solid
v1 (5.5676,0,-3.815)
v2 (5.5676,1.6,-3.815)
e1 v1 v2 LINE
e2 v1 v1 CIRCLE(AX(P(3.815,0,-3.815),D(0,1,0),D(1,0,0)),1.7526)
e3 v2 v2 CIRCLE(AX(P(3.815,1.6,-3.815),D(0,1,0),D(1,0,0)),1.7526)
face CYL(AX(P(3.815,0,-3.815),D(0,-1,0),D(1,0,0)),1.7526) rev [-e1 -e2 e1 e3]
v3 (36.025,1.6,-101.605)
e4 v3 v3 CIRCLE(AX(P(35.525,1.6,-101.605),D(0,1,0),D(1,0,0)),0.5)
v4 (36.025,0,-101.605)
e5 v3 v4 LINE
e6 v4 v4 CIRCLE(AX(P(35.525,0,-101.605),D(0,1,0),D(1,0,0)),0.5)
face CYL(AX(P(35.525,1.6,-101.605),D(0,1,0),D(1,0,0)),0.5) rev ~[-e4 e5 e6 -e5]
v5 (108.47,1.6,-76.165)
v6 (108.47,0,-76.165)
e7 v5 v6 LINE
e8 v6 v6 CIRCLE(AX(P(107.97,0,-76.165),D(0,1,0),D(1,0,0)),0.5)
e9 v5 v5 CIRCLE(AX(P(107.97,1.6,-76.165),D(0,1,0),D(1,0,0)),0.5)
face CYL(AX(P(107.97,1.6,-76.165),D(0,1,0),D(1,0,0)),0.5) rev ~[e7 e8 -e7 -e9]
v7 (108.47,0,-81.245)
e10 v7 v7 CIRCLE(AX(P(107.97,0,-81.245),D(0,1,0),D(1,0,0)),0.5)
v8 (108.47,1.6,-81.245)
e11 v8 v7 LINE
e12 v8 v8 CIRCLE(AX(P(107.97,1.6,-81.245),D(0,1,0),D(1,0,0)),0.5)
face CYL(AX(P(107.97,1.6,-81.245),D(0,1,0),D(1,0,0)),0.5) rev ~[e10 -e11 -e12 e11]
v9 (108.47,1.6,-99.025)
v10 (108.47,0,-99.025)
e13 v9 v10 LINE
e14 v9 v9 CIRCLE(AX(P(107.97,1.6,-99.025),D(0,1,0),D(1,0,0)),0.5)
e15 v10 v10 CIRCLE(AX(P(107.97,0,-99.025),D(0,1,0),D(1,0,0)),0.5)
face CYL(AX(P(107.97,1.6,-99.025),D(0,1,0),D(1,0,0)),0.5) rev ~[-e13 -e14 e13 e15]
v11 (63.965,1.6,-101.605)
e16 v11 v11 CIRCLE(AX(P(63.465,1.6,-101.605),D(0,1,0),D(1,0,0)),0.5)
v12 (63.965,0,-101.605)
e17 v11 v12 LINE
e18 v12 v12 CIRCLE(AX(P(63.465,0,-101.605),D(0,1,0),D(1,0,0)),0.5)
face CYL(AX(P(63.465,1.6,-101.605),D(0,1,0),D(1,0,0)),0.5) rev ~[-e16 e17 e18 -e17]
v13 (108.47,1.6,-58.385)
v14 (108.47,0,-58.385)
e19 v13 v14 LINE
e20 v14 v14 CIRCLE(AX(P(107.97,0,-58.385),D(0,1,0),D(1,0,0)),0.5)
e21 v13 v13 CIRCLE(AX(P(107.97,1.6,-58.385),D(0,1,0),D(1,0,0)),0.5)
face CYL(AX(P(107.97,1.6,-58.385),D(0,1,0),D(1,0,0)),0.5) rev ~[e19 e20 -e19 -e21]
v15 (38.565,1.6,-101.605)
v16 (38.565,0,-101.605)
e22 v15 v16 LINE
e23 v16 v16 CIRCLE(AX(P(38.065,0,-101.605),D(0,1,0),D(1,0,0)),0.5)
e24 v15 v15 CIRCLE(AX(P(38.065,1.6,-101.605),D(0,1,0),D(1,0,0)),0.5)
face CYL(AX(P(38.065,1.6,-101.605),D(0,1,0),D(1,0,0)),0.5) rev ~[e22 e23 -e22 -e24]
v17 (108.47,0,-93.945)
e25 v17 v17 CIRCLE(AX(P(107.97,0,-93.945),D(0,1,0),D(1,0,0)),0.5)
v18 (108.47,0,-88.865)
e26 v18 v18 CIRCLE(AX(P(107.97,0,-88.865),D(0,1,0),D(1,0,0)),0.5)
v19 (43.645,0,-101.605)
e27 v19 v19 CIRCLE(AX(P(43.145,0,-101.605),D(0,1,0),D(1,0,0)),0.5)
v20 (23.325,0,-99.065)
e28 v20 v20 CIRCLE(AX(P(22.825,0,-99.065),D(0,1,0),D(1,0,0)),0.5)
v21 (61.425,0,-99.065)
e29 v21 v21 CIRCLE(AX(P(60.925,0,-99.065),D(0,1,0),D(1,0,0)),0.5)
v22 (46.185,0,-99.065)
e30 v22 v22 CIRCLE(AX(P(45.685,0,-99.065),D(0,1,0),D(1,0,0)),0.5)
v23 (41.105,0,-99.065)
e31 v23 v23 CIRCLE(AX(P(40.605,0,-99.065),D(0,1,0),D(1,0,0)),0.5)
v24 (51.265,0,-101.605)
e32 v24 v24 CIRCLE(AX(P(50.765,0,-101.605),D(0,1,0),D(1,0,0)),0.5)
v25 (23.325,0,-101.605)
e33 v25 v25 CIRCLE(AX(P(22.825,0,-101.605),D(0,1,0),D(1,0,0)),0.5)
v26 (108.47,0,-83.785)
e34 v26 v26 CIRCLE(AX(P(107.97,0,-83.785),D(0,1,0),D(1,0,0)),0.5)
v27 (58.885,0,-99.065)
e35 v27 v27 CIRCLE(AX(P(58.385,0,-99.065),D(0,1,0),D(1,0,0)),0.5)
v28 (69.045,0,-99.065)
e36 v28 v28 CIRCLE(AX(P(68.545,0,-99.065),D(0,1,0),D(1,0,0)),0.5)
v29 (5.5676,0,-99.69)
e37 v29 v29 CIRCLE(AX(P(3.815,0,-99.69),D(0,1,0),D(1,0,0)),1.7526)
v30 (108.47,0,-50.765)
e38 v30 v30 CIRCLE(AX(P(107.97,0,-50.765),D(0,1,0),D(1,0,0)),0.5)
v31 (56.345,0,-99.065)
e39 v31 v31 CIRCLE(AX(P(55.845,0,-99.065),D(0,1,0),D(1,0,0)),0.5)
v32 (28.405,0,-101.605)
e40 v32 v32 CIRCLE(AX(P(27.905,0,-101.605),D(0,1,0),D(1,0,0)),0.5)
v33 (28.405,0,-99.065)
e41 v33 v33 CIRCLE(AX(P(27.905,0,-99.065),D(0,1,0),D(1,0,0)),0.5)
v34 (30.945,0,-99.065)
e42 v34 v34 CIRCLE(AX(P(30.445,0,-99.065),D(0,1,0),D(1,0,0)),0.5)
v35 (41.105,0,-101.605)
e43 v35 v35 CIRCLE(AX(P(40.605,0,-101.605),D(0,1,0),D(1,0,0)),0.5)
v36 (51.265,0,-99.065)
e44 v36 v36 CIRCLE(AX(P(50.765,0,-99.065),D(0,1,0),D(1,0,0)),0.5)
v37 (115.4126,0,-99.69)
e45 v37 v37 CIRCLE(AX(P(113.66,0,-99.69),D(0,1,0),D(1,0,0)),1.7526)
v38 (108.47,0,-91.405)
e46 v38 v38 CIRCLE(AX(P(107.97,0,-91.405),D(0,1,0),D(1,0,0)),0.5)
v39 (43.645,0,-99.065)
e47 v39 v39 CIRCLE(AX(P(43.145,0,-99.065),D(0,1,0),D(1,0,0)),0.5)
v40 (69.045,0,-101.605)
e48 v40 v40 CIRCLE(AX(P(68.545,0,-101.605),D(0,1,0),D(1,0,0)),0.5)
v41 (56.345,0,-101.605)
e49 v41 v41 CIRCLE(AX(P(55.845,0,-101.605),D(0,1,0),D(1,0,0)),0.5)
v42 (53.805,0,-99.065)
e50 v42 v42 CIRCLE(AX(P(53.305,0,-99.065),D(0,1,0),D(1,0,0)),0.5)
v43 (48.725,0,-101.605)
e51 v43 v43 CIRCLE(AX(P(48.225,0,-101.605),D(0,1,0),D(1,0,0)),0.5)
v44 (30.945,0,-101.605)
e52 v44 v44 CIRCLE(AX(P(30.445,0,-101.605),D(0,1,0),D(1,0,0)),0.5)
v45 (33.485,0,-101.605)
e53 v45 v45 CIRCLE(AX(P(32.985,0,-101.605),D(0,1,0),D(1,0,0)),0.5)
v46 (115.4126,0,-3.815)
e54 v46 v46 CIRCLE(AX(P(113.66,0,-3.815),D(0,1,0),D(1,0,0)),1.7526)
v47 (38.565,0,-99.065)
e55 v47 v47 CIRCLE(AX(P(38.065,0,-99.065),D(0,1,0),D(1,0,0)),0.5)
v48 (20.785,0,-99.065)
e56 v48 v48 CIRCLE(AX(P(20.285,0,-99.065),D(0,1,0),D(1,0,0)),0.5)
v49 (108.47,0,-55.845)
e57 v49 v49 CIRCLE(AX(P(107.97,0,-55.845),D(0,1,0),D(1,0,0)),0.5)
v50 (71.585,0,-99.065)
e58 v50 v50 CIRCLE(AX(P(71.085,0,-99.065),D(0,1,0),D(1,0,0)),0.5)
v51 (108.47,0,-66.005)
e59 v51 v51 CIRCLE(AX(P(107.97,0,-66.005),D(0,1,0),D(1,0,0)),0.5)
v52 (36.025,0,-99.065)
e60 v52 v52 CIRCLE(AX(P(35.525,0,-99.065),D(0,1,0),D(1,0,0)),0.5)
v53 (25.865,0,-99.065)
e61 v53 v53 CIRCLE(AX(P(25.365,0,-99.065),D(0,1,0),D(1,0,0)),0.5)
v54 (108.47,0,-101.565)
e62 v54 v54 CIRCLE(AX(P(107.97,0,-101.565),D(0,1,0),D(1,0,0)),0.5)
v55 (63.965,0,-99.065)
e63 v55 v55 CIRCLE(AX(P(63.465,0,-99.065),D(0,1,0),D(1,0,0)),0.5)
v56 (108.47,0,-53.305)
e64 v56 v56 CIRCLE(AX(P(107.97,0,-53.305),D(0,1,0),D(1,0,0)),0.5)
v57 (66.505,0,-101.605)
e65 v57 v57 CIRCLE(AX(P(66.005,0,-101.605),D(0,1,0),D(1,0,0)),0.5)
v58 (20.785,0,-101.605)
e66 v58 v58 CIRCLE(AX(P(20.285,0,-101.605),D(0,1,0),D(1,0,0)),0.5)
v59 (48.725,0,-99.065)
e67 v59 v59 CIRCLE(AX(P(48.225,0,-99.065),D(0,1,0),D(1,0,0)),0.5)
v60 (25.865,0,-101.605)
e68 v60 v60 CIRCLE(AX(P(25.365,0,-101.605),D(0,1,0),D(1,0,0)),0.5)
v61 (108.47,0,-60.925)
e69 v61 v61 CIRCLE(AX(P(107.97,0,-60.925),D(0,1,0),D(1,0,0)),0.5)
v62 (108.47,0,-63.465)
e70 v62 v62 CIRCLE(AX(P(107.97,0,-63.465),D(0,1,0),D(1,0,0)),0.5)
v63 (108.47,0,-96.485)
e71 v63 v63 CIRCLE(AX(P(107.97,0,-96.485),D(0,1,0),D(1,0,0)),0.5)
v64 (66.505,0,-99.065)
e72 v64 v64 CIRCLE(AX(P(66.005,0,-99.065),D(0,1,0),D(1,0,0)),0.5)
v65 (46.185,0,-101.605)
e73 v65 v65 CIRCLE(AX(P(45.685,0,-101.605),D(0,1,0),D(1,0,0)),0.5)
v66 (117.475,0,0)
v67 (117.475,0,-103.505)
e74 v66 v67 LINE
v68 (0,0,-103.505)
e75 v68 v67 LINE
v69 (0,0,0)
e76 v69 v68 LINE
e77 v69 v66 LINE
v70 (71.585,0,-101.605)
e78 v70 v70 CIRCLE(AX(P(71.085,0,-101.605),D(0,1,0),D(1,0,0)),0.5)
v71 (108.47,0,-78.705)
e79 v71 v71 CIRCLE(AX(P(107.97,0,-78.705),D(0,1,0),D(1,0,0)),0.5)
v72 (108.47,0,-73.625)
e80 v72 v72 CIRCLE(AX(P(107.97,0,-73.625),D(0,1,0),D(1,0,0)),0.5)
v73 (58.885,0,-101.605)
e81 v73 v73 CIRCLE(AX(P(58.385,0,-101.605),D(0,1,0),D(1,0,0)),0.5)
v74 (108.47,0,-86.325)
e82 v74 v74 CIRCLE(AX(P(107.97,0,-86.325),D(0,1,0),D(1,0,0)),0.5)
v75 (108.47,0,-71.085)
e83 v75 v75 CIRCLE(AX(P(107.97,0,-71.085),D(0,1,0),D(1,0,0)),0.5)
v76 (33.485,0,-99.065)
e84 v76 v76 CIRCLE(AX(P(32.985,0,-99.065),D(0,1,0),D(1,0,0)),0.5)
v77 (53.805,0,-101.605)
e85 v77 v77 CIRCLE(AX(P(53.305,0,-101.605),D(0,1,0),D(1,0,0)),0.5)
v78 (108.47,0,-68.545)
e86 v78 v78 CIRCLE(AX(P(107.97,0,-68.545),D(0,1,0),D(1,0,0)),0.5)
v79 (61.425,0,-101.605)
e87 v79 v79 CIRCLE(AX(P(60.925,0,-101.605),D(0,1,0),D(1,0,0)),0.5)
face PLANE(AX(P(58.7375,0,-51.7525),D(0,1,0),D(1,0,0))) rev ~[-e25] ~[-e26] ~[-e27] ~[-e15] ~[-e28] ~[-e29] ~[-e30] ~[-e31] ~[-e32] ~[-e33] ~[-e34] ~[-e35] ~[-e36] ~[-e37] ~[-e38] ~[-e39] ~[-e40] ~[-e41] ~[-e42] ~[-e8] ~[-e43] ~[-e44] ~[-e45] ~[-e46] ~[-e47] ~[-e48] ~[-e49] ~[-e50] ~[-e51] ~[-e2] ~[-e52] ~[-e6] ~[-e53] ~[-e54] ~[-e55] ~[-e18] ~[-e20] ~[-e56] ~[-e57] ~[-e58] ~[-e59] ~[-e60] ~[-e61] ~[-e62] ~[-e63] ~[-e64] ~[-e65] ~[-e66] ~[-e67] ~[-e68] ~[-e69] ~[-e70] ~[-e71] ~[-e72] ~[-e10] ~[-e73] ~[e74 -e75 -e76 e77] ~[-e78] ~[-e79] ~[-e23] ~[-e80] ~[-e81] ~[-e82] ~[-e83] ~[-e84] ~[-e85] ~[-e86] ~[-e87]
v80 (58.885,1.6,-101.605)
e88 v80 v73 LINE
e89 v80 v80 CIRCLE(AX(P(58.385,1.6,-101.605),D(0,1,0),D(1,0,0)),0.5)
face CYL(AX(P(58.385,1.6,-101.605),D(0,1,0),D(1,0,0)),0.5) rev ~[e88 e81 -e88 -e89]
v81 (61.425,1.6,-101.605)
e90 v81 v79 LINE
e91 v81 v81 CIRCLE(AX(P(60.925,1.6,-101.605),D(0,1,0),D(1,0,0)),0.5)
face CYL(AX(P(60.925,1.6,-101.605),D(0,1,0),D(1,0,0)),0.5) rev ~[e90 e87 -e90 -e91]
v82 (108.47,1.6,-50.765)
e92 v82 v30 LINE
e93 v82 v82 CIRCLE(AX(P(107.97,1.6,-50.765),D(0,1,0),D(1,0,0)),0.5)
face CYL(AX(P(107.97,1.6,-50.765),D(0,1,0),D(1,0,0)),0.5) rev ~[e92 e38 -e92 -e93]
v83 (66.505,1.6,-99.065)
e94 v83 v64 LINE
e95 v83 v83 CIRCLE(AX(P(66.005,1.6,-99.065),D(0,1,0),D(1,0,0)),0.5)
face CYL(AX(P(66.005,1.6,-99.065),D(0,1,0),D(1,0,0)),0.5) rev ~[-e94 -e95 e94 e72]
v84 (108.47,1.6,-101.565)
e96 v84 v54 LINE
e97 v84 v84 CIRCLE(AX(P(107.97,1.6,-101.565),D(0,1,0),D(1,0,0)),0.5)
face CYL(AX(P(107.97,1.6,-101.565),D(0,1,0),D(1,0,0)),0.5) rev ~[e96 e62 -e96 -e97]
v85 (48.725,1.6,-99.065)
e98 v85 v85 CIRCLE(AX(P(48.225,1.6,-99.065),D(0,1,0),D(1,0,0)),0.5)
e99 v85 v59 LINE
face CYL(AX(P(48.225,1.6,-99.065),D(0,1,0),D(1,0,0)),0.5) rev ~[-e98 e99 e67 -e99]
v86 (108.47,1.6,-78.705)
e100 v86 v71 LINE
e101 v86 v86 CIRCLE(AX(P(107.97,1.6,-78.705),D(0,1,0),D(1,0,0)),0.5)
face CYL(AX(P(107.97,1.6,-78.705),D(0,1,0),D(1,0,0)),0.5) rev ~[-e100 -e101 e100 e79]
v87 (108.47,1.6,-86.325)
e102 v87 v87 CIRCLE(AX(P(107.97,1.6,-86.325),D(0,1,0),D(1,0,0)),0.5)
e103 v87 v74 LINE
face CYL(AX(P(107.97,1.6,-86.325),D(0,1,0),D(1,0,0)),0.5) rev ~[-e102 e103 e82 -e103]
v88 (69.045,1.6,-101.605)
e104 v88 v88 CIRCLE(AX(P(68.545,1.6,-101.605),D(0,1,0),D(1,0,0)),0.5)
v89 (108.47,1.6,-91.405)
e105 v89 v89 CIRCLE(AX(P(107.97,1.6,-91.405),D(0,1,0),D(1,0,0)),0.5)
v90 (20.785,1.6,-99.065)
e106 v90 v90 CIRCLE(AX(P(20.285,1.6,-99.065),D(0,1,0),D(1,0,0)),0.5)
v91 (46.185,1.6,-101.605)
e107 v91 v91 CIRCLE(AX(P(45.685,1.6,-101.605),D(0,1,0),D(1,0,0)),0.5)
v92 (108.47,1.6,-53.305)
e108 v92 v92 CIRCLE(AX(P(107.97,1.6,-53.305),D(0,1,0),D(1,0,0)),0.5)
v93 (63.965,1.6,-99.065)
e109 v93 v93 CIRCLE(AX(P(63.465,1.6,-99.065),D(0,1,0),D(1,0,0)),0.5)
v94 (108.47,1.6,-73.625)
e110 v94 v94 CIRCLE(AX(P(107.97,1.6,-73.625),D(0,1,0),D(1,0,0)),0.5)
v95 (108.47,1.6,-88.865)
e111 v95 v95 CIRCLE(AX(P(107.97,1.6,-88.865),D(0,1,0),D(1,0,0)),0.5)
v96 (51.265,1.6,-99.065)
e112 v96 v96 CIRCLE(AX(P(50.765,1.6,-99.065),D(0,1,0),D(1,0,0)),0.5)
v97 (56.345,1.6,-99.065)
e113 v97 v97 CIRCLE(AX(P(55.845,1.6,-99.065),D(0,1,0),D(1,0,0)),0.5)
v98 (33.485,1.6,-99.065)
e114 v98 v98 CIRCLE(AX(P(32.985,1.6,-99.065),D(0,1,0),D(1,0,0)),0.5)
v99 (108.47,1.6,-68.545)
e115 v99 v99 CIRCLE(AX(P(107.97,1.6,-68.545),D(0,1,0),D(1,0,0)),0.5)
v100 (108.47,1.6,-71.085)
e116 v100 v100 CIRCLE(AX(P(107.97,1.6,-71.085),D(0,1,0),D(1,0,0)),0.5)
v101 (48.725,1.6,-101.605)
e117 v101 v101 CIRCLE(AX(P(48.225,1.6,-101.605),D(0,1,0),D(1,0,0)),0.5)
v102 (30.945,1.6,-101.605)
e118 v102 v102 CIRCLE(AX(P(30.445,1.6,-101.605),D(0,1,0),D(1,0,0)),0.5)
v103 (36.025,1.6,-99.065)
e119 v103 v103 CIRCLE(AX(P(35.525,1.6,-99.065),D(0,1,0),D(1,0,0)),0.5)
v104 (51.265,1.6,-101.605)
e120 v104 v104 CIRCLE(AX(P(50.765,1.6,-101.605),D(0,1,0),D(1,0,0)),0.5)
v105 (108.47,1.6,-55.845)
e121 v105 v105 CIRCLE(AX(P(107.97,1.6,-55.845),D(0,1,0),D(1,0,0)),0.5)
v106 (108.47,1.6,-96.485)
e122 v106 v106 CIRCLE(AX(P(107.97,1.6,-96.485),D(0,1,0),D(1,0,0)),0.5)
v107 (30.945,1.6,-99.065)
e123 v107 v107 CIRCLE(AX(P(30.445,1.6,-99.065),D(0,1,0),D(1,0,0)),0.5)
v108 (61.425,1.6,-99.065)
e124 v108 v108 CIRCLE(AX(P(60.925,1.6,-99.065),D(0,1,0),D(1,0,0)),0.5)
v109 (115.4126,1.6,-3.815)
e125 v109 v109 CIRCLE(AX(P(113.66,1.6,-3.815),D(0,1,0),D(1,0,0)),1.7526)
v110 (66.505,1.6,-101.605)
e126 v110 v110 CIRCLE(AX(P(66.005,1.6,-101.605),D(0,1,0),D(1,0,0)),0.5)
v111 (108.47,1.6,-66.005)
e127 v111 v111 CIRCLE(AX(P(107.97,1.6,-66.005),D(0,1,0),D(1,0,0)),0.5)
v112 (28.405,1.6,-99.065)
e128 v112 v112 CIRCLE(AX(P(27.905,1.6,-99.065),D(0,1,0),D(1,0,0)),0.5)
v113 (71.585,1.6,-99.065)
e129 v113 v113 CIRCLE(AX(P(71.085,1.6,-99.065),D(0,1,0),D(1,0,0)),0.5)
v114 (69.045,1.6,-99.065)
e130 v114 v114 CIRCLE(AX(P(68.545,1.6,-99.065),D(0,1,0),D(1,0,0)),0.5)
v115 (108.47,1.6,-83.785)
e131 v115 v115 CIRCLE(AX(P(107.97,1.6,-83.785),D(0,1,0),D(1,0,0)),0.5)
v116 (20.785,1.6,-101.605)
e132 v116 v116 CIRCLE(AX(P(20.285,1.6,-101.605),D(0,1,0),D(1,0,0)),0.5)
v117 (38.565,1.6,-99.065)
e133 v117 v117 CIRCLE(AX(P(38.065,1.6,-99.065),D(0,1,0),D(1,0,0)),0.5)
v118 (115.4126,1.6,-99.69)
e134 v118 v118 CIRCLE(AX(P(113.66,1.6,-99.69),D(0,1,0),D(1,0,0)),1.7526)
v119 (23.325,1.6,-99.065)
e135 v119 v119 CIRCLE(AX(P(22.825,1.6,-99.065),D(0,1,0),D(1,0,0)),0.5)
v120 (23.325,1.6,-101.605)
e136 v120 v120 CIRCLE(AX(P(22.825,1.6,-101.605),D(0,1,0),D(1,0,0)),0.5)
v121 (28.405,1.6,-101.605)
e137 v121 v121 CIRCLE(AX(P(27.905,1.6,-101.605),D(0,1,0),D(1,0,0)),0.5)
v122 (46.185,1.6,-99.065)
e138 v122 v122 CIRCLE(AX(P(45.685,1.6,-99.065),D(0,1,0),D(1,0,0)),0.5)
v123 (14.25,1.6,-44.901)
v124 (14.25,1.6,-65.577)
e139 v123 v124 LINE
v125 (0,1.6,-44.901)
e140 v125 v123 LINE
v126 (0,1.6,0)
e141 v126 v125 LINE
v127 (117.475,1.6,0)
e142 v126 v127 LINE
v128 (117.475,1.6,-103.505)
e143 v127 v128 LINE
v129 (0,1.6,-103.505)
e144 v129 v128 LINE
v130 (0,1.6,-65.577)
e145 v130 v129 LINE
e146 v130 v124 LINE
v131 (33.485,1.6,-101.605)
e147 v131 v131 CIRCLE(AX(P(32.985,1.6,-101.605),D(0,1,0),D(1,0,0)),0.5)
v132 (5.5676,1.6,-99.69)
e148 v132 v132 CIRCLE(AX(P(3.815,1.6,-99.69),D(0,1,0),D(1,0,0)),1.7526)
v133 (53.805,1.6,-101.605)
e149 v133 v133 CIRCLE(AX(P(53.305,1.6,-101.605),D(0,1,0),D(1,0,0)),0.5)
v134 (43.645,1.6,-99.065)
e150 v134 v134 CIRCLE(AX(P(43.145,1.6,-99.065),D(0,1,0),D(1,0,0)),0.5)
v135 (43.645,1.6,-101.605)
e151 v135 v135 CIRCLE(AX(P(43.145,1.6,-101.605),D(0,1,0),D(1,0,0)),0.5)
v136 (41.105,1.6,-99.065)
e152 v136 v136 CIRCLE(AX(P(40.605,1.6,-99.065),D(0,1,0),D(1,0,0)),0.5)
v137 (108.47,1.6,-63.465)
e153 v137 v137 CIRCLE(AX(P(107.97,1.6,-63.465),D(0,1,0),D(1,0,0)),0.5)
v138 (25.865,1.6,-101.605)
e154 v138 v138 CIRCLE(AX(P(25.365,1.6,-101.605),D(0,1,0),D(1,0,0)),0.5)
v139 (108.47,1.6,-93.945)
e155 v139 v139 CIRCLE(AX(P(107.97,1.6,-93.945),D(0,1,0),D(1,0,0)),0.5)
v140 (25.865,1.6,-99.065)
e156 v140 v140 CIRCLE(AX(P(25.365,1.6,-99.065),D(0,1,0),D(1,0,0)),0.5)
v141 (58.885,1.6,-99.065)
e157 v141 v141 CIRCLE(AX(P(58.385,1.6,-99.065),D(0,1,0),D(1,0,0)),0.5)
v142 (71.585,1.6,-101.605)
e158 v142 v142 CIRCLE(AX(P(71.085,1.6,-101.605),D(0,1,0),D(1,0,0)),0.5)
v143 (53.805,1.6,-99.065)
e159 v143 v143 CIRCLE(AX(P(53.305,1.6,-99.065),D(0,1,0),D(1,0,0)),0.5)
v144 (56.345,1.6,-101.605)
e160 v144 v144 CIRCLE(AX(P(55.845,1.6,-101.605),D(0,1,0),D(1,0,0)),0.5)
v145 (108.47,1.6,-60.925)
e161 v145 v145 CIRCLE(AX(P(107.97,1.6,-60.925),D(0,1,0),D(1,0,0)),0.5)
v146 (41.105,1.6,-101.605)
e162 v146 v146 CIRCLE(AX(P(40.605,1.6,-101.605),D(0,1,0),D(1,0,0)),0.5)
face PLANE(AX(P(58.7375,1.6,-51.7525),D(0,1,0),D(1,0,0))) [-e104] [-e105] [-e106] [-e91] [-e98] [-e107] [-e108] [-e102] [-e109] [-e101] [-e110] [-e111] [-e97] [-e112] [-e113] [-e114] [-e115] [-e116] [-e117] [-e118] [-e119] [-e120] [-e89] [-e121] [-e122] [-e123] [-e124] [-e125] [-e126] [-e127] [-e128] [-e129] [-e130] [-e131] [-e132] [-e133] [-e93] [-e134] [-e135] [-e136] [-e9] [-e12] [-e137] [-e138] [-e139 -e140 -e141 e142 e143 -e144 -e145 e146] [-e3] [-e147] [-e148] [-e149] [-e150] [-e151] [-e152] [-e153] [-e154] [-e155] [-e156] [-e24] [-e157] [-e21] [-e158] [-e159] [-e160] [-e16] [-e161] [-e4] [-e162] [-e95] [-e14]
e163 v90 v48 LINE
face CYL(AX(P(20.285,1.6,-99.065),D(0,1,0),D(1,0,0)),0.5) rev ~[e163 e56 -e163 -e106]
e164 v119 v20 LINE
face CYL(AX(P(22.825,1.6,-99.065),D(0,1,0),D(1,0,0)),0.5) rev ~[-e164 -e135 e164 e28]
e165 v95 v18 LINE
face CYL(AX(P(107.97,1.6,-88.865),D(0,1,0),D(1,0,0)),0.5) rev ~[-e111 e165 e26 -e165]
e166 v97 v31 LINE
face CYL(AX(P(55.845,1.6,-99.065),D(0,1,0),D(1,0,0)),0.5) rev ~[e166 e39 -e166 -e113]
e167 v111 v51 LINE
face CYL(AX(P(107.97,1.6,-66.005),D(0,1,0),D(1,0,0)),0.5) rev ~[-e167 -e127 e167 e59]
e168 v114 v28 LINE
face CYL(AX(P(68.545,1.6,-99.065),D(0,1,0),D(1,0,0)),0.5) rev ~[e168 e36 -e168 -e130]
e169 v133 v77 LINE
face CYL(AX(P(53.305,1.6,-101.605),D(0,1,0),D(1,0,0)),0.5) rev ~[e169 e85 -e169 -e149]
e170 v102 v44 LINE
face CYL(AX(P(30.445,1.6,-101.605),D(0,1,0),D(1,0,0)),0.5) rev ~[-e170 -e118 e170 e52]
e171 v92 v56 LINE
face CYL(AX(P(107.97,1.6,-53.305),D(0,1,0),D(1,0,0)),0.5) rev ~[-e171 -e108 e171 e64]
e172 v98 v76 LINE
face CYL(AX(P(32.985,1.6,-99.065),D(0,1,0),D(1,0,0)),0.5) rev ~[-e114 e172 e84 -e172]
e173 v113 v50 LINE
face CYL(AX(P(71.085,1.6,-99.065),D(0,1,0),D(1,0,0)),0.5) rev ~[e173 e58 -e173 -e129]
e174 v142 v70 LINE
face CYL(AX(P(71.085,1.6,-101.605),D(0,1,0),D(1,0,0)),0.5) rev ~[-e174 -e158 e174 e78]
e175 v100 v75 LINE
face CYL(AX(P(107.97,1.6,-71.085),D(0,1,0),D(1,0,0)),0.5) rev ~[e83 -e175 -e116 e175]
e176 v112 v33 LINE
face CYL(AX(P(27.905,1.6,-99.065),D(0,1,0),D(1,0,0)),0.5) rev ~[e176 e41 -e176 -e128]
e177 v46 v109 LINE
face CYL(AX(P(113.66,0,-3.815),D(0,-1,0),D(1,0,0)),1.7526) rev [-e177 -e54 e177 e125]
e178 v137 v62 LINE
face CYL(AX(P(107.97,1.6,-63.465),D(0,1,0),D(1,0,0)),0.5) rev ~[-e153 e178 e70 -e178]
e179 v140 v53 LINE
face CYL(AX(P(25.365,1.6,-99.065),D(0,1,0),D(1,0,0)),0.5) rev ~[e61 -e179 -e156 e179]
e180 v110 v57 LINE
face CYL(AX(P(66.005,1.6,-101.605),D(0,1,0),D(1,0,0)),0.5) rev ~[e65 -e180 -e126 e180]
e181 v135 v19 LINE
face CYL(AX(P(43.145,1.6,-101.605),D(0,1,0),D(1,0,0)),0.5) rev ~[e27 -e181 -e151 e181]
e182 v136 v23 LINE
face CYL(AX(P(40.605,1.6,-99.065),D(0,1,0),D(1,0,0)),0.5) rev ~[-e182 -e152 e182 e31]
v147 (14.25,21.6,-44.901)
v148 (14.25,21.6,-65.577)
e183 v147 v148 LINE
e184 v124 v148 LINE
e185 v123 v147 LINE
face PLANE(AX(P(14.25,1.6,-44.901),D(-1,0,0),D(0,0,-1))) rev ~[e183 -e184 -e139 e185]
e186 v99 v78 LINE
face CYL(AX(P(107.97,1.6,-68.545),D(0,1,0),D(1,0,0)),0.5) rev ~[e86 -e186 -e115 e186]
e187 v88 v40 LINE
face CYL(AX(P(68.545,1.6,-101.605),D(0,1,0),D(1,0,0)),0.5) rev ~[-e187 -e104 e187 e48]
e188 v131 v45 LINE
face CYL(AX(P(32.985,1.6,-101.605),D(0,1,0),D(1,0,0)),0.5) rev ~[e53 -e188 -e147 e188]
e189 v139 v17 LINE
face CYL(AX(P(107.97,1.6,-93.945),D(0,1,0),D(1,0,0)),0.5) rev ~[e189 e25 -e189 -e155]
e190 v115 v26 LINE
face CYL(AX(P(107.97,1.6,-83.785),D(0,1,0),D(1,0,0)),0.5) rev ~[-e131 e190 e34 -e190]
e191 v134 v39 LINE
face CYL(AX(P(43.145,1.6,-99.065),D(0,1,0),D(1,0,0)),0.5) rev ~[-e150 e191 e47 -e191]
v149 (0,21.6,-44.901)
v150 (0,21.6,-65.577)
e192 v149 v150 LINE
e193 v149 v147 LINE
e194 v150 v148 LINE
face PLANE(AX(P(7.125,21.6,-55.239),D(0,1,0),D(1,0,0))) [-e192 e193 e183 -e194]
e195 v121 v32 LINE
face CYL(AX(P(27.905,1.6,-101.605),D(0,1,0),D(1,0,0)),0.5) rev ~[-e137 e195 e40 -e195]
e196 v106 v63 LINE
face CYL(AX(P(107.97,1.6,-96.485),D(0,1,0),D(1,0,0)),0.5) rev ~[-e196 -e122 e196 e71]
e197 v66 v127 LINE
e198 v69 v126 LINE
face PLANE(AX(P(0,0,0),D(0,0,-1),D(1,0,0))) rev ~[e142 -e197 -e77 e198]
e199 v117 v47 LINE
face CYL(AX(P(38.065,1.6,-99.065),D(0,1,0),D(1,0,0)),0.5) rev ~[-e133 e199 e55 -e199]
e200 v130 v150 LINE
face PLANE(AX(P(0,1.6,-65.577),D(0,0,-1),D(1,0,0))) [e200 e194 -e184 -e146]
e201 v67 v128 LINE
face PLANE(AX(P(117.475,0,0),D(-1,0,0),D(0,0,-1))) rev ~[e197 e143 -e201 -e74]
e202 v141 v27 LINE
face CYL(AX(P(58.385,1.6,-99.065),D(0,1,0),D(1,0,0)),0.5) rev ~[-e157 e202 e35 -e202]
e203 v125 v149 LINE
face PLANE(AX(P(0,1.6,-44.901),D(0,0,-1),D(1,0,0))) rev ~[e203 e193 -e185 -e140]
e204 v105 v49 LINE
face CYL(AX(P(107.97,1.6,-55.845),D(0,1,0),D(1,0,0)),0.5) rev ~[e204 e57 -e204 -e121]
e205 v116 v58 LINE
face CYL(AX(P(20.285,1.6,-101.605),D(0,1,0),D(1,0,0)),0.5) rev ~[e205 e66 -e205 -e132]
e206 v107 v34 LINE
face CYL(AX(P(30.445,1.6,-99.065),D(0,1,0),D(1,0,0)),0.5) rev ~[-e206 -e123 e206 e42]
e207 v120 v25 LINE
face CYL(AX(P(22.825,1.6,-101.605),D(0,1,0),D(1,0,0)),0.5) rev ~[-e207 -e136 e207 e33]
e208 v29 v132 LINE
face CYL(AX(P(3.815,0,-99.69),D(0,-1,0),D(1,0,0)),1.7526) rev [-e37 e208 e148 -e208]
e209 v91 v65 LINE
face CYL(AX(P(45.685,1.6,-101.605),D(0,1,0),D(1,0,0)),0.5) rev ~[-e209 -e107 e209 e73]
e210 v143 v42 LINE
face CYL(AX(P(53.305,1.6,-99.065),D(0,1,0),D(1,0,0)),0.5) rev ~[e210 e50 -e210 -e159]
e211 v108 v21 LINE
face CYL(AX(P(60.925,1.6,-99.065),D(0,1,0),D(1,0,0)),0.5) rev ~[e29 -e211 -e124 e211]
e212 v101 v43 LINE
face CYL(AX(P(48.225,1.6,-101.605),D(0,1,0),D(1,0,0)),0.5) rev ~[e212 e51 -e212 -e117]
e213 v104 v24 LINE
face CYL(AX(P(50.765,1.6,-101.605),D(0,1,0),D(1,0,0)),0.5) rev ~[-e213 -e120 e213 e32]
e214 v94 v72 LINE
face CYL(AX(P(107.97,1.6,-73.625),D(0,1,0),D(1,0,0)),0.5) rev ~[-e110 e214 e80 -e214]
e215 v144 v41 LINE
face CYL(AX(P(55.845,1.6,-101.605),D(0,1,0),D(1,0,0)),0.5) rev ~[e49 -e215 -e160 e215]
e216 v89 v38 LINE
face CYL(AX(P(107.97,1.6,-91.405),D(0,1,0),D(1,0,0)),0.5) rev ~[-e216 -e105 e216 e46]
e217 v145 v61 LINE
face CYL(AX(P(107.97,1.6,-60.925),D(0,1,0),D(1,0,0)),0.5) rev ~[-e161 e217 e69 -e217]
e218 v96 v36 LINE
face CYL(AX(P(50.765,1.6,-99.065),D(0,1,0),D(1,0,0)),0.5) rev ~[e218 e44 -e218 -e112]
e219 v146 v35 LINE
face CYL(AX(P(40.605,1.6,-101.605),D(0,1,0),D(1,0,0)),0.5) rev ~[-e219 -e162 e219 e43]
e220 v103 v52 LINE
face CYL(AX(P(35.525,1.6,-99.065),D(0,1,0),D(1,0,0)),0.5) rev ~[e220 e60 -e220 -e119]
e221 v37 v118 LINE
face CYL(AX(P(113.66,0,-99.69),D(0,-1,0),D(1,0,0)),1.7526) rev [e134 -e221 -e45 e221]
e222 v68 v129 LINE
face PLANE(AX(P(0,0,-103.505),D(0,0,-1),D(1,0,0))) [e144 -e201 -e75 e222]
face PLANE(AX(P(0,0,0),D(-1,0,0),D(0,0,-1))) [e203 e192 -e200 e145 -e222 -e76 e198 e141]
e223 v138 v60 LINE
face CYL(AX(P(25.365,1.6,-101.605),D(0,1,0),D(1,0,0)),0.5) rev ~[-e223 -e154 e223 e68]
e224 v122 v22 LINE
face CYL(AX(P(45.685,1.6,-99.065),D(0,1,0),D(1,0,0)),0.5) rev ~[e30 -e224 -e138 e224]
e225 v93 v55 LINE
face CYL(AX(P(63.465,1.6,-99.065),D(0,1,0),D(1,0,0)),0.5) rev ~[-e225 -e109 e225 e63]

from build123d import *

# Parameters (mm, degrees)
SKETCH1_W           = 117.475
SKETCH1_H           = 103.505
SKETCH1_R           = 1.7526
BOSS_EXTRUDE1_DEPTH = 1.6
SKETCH2_W           = 14.25
SKETCH2_H           = 20.676
BOSS_EXTRUDE2_DEPTH = 20
SKETCH3_R           = 0.5
CUT_EXTRUDE1_DEPTH  = 2.6


with BuildPart() as part:
    # Sketch1 → Boss-Extrude1 (new body)
    with BuildSketch(Plane(origin=(0, 0, 0), x_dir=(1, 0, 0), z_dir=(0, 1, 0))):
        with Locations((58.7375, 51.7525)):
            Rectangle(SKETCH1_W, SKETCH1_H)
        with Locations((3.815, 3.815)):
            Circle(SKETCH1_R, mode=Mode.SUBTRACT)
        with Locations((113.66, 3.815)):
            Circle(SKETCH1_R, mode=Mode.SUBTRACT)
        with Locations((113.66, 99.69)):
            Circle(SKETCH1_R, mode=Mode.SUBTRACT)
        with Locations((3.815, 99.69)):
            Circle(SKETCH1_R, mode=Mode.SUBTRACT)
    extrude(amount=BOSS_EXTRUDE1_DEPTH)

    # Sketch2 → Boss-Extrude2 (add)
    with BuildSketch(Plane(origin=(0, 1.6, 0), x_dir=(1, 0, 0), z_dir=(0, 1, 0))):
        with Locations((7.125, 55.239)):
            Rectangle(SKETCH2_W, SKETCH2_H)
    extrude(amount=BOSS_EXTRUDE2_DEPTH)

    # Sketch3 → Cut-Extrude1 (cut, through all)
    with BuildSketch(Plane(origin=(0, 1.6, 0), x_dir=(1, 0, 0), z_dir=(0, 1, 0))):
        with Locations((20.285, 101.605)):
            Circle(SKETCH3_R)
        with Locations((22.825, 101.605)):
            Circle(SKETCH3_R)
        with Locations((25.365, 101.605)):
            Circle(SKETCH3_R)
        with Locations((27.905, 101.605)):
            Circle(SKETCH3_R)
        with Locations((30.445, 101.605)):
            Circle(SKETCH3_R)
        with Locations((32.985, 101.605)):
            Circle(SKETCH3_R)
        with Locations((35.525, 101.605)):
            Circle(SKETCH3_R)
        with Locations((38.065, 101.605)):
            Circle(SKETCH3_R)
        with Locations((40.605, 101.605)):
            Circle(SKETCH3_R)
        with Locations((43.145, 101.605)):
            Circle(SKETCH3_R)
        with Locations((45.685, 101.605)):
            Circle(SKETCH3_R)
        with Locations((48.225, 101.605)):
            Circle(SKETCH3_R)
        with Locations((50.765, 101.605)):
            Circle(SKETCH3_R)
        with Locations((53.305, 101.605)):
            Circle(SKETCH3_R)
        with Locations((55.845, 101.605)):
            Circle(SKETCH3_R)
        with Locations((58.385, 101.605)):
            Circle(SKETCH3_R)
        with Locations((60.925, 101.605)):
            Circle(SKETCH3_R)
        with Locations((63.465, 101.605)):
            Circle(SKETCH3_R)
        with Locations((66.005, 101.605)):
            Circle(SKETCH3_R)
        with Locations((68.545, 101.605)):
            Circle(SKETCH3_R)
        with Locations((71.085, 101.605)):
            Circle(SKETCH3_R)
        with Locations((22.825, 99.065)):
            Circle(SKETCH3_R)
        with Locations((25.365, 99.065)):
            Circle(SKETCH3_R)
        with Locations((27.905, 99.065)):
            Circle(SKETCH3_R)
        with Locations((30.445, 99.065)):
            Circle(SKETCH3_R)
        with Locations((32.985, 99.065)):
            Circle(SKETCH3_R)
        with Locations((35.525, 99.065)):
            Circle(SKETCH3_R)
        with Locations((38.065, 99.065)):
            Circle(SKETCH3_R)
        with Locations((40.605, 99.065)):
            Circle(SKETCH3_R)
        with Locations((43.145, 99.065)):
            Circle(SKETCH3_R)
        with Locations((45.685, 99.065)):
            Circle(SKETCH3_R)
        with Locations((48.225, 99.065)):
            Circle(SKETCH3_R)
        with Locations((50.765, 99.065)):
            Circle(SKETCH3_R)
        with Locations((53.305, 99.065)):
            Circle(SKETCH3_R)
        with Locations((55.845, 99.065)):
            Circle(SKETCH3_R)
        with Locations((58.385, 99.065)):
            Circle(SKETCH3_R)
        with Locations((60.925, 99.065)):
            Circle(SKETCH3_R)
        with Locations((63.465, 99.065)):
            Circle(SKETCH3_R)
        with Locations((66.005, 99.065)):
            Circle(SKETCH3_R)
        with Locations((68.545, 99.065)):
            Circle(SKETCH3_R)
        with Locations((71.085, 99.065)):
            Circle(SKETCH3_R)
        with Locations((20.285, 99.065)):
            Circle(SKETCH3_R)
        with Locations((107.97, 101.565)):
            Circle(SKETCH3_R)
        with Locations((107.97, 99.025)):
            Circle(SKETCH3_R)
        with Locations((107.97, 96.485)):
            Circle(SKETCH3_R)
        with Locations((107.97, 93.945)):
            Circle(SKETCH3_R)
        with Locations((107.97, 91.405)):
            Circle(SKETCH3_R)
        with Locations((107.97, 88.865)):
            Circle(SKETCH3_R)
        with Locations((107.97, 86.325)):
            Circle(SKETCH3_R)
        with Locations((107.97, 83.785)):
            Circle(SKETCH3_R)
        with Locations((107.97, 81.245)):
            Circle(SKETCH3_R)
        with Locations((107.97, 78.705)):
            Circle(SKETCH3_R)
        with Locations((107.97, 76.165)):
            Circle(SKETCH3_R)
        with Locations((107.97, 73.625)):
            Circle(SKETCH3_R)
        with Locations((107.97, 71.085)):
            Circle(SKETCH3_R)
        with Locations((107.97, 68.545)):
            Circle(SKETCH3_R)
        with Locations((107.97, 66.005)):
            Circle(SKETCH3_R)
        with Locations((107.97, 63.465)):
            Circle(SKETCH3_R)
        with Locations((107.97, 60.925)):
            Circle(SKETCH3_R)
        with Locations((107.97, 58.385)):
            Circle(SKETCH3_R)
        with Locations((107.97, 55.845)):
            Circle(SKETCH3_R)
        with Locations((107.97, 53.305)):
            Circle(SKETCH3_R)
        with Locations((107.97, 50.765)):
            Circle(SKETCH3_R)
    extrude(amount=-CUT_EXTRUDE1_DEPTH, mode=Mode.SUBTRACT)


solid = part.part
